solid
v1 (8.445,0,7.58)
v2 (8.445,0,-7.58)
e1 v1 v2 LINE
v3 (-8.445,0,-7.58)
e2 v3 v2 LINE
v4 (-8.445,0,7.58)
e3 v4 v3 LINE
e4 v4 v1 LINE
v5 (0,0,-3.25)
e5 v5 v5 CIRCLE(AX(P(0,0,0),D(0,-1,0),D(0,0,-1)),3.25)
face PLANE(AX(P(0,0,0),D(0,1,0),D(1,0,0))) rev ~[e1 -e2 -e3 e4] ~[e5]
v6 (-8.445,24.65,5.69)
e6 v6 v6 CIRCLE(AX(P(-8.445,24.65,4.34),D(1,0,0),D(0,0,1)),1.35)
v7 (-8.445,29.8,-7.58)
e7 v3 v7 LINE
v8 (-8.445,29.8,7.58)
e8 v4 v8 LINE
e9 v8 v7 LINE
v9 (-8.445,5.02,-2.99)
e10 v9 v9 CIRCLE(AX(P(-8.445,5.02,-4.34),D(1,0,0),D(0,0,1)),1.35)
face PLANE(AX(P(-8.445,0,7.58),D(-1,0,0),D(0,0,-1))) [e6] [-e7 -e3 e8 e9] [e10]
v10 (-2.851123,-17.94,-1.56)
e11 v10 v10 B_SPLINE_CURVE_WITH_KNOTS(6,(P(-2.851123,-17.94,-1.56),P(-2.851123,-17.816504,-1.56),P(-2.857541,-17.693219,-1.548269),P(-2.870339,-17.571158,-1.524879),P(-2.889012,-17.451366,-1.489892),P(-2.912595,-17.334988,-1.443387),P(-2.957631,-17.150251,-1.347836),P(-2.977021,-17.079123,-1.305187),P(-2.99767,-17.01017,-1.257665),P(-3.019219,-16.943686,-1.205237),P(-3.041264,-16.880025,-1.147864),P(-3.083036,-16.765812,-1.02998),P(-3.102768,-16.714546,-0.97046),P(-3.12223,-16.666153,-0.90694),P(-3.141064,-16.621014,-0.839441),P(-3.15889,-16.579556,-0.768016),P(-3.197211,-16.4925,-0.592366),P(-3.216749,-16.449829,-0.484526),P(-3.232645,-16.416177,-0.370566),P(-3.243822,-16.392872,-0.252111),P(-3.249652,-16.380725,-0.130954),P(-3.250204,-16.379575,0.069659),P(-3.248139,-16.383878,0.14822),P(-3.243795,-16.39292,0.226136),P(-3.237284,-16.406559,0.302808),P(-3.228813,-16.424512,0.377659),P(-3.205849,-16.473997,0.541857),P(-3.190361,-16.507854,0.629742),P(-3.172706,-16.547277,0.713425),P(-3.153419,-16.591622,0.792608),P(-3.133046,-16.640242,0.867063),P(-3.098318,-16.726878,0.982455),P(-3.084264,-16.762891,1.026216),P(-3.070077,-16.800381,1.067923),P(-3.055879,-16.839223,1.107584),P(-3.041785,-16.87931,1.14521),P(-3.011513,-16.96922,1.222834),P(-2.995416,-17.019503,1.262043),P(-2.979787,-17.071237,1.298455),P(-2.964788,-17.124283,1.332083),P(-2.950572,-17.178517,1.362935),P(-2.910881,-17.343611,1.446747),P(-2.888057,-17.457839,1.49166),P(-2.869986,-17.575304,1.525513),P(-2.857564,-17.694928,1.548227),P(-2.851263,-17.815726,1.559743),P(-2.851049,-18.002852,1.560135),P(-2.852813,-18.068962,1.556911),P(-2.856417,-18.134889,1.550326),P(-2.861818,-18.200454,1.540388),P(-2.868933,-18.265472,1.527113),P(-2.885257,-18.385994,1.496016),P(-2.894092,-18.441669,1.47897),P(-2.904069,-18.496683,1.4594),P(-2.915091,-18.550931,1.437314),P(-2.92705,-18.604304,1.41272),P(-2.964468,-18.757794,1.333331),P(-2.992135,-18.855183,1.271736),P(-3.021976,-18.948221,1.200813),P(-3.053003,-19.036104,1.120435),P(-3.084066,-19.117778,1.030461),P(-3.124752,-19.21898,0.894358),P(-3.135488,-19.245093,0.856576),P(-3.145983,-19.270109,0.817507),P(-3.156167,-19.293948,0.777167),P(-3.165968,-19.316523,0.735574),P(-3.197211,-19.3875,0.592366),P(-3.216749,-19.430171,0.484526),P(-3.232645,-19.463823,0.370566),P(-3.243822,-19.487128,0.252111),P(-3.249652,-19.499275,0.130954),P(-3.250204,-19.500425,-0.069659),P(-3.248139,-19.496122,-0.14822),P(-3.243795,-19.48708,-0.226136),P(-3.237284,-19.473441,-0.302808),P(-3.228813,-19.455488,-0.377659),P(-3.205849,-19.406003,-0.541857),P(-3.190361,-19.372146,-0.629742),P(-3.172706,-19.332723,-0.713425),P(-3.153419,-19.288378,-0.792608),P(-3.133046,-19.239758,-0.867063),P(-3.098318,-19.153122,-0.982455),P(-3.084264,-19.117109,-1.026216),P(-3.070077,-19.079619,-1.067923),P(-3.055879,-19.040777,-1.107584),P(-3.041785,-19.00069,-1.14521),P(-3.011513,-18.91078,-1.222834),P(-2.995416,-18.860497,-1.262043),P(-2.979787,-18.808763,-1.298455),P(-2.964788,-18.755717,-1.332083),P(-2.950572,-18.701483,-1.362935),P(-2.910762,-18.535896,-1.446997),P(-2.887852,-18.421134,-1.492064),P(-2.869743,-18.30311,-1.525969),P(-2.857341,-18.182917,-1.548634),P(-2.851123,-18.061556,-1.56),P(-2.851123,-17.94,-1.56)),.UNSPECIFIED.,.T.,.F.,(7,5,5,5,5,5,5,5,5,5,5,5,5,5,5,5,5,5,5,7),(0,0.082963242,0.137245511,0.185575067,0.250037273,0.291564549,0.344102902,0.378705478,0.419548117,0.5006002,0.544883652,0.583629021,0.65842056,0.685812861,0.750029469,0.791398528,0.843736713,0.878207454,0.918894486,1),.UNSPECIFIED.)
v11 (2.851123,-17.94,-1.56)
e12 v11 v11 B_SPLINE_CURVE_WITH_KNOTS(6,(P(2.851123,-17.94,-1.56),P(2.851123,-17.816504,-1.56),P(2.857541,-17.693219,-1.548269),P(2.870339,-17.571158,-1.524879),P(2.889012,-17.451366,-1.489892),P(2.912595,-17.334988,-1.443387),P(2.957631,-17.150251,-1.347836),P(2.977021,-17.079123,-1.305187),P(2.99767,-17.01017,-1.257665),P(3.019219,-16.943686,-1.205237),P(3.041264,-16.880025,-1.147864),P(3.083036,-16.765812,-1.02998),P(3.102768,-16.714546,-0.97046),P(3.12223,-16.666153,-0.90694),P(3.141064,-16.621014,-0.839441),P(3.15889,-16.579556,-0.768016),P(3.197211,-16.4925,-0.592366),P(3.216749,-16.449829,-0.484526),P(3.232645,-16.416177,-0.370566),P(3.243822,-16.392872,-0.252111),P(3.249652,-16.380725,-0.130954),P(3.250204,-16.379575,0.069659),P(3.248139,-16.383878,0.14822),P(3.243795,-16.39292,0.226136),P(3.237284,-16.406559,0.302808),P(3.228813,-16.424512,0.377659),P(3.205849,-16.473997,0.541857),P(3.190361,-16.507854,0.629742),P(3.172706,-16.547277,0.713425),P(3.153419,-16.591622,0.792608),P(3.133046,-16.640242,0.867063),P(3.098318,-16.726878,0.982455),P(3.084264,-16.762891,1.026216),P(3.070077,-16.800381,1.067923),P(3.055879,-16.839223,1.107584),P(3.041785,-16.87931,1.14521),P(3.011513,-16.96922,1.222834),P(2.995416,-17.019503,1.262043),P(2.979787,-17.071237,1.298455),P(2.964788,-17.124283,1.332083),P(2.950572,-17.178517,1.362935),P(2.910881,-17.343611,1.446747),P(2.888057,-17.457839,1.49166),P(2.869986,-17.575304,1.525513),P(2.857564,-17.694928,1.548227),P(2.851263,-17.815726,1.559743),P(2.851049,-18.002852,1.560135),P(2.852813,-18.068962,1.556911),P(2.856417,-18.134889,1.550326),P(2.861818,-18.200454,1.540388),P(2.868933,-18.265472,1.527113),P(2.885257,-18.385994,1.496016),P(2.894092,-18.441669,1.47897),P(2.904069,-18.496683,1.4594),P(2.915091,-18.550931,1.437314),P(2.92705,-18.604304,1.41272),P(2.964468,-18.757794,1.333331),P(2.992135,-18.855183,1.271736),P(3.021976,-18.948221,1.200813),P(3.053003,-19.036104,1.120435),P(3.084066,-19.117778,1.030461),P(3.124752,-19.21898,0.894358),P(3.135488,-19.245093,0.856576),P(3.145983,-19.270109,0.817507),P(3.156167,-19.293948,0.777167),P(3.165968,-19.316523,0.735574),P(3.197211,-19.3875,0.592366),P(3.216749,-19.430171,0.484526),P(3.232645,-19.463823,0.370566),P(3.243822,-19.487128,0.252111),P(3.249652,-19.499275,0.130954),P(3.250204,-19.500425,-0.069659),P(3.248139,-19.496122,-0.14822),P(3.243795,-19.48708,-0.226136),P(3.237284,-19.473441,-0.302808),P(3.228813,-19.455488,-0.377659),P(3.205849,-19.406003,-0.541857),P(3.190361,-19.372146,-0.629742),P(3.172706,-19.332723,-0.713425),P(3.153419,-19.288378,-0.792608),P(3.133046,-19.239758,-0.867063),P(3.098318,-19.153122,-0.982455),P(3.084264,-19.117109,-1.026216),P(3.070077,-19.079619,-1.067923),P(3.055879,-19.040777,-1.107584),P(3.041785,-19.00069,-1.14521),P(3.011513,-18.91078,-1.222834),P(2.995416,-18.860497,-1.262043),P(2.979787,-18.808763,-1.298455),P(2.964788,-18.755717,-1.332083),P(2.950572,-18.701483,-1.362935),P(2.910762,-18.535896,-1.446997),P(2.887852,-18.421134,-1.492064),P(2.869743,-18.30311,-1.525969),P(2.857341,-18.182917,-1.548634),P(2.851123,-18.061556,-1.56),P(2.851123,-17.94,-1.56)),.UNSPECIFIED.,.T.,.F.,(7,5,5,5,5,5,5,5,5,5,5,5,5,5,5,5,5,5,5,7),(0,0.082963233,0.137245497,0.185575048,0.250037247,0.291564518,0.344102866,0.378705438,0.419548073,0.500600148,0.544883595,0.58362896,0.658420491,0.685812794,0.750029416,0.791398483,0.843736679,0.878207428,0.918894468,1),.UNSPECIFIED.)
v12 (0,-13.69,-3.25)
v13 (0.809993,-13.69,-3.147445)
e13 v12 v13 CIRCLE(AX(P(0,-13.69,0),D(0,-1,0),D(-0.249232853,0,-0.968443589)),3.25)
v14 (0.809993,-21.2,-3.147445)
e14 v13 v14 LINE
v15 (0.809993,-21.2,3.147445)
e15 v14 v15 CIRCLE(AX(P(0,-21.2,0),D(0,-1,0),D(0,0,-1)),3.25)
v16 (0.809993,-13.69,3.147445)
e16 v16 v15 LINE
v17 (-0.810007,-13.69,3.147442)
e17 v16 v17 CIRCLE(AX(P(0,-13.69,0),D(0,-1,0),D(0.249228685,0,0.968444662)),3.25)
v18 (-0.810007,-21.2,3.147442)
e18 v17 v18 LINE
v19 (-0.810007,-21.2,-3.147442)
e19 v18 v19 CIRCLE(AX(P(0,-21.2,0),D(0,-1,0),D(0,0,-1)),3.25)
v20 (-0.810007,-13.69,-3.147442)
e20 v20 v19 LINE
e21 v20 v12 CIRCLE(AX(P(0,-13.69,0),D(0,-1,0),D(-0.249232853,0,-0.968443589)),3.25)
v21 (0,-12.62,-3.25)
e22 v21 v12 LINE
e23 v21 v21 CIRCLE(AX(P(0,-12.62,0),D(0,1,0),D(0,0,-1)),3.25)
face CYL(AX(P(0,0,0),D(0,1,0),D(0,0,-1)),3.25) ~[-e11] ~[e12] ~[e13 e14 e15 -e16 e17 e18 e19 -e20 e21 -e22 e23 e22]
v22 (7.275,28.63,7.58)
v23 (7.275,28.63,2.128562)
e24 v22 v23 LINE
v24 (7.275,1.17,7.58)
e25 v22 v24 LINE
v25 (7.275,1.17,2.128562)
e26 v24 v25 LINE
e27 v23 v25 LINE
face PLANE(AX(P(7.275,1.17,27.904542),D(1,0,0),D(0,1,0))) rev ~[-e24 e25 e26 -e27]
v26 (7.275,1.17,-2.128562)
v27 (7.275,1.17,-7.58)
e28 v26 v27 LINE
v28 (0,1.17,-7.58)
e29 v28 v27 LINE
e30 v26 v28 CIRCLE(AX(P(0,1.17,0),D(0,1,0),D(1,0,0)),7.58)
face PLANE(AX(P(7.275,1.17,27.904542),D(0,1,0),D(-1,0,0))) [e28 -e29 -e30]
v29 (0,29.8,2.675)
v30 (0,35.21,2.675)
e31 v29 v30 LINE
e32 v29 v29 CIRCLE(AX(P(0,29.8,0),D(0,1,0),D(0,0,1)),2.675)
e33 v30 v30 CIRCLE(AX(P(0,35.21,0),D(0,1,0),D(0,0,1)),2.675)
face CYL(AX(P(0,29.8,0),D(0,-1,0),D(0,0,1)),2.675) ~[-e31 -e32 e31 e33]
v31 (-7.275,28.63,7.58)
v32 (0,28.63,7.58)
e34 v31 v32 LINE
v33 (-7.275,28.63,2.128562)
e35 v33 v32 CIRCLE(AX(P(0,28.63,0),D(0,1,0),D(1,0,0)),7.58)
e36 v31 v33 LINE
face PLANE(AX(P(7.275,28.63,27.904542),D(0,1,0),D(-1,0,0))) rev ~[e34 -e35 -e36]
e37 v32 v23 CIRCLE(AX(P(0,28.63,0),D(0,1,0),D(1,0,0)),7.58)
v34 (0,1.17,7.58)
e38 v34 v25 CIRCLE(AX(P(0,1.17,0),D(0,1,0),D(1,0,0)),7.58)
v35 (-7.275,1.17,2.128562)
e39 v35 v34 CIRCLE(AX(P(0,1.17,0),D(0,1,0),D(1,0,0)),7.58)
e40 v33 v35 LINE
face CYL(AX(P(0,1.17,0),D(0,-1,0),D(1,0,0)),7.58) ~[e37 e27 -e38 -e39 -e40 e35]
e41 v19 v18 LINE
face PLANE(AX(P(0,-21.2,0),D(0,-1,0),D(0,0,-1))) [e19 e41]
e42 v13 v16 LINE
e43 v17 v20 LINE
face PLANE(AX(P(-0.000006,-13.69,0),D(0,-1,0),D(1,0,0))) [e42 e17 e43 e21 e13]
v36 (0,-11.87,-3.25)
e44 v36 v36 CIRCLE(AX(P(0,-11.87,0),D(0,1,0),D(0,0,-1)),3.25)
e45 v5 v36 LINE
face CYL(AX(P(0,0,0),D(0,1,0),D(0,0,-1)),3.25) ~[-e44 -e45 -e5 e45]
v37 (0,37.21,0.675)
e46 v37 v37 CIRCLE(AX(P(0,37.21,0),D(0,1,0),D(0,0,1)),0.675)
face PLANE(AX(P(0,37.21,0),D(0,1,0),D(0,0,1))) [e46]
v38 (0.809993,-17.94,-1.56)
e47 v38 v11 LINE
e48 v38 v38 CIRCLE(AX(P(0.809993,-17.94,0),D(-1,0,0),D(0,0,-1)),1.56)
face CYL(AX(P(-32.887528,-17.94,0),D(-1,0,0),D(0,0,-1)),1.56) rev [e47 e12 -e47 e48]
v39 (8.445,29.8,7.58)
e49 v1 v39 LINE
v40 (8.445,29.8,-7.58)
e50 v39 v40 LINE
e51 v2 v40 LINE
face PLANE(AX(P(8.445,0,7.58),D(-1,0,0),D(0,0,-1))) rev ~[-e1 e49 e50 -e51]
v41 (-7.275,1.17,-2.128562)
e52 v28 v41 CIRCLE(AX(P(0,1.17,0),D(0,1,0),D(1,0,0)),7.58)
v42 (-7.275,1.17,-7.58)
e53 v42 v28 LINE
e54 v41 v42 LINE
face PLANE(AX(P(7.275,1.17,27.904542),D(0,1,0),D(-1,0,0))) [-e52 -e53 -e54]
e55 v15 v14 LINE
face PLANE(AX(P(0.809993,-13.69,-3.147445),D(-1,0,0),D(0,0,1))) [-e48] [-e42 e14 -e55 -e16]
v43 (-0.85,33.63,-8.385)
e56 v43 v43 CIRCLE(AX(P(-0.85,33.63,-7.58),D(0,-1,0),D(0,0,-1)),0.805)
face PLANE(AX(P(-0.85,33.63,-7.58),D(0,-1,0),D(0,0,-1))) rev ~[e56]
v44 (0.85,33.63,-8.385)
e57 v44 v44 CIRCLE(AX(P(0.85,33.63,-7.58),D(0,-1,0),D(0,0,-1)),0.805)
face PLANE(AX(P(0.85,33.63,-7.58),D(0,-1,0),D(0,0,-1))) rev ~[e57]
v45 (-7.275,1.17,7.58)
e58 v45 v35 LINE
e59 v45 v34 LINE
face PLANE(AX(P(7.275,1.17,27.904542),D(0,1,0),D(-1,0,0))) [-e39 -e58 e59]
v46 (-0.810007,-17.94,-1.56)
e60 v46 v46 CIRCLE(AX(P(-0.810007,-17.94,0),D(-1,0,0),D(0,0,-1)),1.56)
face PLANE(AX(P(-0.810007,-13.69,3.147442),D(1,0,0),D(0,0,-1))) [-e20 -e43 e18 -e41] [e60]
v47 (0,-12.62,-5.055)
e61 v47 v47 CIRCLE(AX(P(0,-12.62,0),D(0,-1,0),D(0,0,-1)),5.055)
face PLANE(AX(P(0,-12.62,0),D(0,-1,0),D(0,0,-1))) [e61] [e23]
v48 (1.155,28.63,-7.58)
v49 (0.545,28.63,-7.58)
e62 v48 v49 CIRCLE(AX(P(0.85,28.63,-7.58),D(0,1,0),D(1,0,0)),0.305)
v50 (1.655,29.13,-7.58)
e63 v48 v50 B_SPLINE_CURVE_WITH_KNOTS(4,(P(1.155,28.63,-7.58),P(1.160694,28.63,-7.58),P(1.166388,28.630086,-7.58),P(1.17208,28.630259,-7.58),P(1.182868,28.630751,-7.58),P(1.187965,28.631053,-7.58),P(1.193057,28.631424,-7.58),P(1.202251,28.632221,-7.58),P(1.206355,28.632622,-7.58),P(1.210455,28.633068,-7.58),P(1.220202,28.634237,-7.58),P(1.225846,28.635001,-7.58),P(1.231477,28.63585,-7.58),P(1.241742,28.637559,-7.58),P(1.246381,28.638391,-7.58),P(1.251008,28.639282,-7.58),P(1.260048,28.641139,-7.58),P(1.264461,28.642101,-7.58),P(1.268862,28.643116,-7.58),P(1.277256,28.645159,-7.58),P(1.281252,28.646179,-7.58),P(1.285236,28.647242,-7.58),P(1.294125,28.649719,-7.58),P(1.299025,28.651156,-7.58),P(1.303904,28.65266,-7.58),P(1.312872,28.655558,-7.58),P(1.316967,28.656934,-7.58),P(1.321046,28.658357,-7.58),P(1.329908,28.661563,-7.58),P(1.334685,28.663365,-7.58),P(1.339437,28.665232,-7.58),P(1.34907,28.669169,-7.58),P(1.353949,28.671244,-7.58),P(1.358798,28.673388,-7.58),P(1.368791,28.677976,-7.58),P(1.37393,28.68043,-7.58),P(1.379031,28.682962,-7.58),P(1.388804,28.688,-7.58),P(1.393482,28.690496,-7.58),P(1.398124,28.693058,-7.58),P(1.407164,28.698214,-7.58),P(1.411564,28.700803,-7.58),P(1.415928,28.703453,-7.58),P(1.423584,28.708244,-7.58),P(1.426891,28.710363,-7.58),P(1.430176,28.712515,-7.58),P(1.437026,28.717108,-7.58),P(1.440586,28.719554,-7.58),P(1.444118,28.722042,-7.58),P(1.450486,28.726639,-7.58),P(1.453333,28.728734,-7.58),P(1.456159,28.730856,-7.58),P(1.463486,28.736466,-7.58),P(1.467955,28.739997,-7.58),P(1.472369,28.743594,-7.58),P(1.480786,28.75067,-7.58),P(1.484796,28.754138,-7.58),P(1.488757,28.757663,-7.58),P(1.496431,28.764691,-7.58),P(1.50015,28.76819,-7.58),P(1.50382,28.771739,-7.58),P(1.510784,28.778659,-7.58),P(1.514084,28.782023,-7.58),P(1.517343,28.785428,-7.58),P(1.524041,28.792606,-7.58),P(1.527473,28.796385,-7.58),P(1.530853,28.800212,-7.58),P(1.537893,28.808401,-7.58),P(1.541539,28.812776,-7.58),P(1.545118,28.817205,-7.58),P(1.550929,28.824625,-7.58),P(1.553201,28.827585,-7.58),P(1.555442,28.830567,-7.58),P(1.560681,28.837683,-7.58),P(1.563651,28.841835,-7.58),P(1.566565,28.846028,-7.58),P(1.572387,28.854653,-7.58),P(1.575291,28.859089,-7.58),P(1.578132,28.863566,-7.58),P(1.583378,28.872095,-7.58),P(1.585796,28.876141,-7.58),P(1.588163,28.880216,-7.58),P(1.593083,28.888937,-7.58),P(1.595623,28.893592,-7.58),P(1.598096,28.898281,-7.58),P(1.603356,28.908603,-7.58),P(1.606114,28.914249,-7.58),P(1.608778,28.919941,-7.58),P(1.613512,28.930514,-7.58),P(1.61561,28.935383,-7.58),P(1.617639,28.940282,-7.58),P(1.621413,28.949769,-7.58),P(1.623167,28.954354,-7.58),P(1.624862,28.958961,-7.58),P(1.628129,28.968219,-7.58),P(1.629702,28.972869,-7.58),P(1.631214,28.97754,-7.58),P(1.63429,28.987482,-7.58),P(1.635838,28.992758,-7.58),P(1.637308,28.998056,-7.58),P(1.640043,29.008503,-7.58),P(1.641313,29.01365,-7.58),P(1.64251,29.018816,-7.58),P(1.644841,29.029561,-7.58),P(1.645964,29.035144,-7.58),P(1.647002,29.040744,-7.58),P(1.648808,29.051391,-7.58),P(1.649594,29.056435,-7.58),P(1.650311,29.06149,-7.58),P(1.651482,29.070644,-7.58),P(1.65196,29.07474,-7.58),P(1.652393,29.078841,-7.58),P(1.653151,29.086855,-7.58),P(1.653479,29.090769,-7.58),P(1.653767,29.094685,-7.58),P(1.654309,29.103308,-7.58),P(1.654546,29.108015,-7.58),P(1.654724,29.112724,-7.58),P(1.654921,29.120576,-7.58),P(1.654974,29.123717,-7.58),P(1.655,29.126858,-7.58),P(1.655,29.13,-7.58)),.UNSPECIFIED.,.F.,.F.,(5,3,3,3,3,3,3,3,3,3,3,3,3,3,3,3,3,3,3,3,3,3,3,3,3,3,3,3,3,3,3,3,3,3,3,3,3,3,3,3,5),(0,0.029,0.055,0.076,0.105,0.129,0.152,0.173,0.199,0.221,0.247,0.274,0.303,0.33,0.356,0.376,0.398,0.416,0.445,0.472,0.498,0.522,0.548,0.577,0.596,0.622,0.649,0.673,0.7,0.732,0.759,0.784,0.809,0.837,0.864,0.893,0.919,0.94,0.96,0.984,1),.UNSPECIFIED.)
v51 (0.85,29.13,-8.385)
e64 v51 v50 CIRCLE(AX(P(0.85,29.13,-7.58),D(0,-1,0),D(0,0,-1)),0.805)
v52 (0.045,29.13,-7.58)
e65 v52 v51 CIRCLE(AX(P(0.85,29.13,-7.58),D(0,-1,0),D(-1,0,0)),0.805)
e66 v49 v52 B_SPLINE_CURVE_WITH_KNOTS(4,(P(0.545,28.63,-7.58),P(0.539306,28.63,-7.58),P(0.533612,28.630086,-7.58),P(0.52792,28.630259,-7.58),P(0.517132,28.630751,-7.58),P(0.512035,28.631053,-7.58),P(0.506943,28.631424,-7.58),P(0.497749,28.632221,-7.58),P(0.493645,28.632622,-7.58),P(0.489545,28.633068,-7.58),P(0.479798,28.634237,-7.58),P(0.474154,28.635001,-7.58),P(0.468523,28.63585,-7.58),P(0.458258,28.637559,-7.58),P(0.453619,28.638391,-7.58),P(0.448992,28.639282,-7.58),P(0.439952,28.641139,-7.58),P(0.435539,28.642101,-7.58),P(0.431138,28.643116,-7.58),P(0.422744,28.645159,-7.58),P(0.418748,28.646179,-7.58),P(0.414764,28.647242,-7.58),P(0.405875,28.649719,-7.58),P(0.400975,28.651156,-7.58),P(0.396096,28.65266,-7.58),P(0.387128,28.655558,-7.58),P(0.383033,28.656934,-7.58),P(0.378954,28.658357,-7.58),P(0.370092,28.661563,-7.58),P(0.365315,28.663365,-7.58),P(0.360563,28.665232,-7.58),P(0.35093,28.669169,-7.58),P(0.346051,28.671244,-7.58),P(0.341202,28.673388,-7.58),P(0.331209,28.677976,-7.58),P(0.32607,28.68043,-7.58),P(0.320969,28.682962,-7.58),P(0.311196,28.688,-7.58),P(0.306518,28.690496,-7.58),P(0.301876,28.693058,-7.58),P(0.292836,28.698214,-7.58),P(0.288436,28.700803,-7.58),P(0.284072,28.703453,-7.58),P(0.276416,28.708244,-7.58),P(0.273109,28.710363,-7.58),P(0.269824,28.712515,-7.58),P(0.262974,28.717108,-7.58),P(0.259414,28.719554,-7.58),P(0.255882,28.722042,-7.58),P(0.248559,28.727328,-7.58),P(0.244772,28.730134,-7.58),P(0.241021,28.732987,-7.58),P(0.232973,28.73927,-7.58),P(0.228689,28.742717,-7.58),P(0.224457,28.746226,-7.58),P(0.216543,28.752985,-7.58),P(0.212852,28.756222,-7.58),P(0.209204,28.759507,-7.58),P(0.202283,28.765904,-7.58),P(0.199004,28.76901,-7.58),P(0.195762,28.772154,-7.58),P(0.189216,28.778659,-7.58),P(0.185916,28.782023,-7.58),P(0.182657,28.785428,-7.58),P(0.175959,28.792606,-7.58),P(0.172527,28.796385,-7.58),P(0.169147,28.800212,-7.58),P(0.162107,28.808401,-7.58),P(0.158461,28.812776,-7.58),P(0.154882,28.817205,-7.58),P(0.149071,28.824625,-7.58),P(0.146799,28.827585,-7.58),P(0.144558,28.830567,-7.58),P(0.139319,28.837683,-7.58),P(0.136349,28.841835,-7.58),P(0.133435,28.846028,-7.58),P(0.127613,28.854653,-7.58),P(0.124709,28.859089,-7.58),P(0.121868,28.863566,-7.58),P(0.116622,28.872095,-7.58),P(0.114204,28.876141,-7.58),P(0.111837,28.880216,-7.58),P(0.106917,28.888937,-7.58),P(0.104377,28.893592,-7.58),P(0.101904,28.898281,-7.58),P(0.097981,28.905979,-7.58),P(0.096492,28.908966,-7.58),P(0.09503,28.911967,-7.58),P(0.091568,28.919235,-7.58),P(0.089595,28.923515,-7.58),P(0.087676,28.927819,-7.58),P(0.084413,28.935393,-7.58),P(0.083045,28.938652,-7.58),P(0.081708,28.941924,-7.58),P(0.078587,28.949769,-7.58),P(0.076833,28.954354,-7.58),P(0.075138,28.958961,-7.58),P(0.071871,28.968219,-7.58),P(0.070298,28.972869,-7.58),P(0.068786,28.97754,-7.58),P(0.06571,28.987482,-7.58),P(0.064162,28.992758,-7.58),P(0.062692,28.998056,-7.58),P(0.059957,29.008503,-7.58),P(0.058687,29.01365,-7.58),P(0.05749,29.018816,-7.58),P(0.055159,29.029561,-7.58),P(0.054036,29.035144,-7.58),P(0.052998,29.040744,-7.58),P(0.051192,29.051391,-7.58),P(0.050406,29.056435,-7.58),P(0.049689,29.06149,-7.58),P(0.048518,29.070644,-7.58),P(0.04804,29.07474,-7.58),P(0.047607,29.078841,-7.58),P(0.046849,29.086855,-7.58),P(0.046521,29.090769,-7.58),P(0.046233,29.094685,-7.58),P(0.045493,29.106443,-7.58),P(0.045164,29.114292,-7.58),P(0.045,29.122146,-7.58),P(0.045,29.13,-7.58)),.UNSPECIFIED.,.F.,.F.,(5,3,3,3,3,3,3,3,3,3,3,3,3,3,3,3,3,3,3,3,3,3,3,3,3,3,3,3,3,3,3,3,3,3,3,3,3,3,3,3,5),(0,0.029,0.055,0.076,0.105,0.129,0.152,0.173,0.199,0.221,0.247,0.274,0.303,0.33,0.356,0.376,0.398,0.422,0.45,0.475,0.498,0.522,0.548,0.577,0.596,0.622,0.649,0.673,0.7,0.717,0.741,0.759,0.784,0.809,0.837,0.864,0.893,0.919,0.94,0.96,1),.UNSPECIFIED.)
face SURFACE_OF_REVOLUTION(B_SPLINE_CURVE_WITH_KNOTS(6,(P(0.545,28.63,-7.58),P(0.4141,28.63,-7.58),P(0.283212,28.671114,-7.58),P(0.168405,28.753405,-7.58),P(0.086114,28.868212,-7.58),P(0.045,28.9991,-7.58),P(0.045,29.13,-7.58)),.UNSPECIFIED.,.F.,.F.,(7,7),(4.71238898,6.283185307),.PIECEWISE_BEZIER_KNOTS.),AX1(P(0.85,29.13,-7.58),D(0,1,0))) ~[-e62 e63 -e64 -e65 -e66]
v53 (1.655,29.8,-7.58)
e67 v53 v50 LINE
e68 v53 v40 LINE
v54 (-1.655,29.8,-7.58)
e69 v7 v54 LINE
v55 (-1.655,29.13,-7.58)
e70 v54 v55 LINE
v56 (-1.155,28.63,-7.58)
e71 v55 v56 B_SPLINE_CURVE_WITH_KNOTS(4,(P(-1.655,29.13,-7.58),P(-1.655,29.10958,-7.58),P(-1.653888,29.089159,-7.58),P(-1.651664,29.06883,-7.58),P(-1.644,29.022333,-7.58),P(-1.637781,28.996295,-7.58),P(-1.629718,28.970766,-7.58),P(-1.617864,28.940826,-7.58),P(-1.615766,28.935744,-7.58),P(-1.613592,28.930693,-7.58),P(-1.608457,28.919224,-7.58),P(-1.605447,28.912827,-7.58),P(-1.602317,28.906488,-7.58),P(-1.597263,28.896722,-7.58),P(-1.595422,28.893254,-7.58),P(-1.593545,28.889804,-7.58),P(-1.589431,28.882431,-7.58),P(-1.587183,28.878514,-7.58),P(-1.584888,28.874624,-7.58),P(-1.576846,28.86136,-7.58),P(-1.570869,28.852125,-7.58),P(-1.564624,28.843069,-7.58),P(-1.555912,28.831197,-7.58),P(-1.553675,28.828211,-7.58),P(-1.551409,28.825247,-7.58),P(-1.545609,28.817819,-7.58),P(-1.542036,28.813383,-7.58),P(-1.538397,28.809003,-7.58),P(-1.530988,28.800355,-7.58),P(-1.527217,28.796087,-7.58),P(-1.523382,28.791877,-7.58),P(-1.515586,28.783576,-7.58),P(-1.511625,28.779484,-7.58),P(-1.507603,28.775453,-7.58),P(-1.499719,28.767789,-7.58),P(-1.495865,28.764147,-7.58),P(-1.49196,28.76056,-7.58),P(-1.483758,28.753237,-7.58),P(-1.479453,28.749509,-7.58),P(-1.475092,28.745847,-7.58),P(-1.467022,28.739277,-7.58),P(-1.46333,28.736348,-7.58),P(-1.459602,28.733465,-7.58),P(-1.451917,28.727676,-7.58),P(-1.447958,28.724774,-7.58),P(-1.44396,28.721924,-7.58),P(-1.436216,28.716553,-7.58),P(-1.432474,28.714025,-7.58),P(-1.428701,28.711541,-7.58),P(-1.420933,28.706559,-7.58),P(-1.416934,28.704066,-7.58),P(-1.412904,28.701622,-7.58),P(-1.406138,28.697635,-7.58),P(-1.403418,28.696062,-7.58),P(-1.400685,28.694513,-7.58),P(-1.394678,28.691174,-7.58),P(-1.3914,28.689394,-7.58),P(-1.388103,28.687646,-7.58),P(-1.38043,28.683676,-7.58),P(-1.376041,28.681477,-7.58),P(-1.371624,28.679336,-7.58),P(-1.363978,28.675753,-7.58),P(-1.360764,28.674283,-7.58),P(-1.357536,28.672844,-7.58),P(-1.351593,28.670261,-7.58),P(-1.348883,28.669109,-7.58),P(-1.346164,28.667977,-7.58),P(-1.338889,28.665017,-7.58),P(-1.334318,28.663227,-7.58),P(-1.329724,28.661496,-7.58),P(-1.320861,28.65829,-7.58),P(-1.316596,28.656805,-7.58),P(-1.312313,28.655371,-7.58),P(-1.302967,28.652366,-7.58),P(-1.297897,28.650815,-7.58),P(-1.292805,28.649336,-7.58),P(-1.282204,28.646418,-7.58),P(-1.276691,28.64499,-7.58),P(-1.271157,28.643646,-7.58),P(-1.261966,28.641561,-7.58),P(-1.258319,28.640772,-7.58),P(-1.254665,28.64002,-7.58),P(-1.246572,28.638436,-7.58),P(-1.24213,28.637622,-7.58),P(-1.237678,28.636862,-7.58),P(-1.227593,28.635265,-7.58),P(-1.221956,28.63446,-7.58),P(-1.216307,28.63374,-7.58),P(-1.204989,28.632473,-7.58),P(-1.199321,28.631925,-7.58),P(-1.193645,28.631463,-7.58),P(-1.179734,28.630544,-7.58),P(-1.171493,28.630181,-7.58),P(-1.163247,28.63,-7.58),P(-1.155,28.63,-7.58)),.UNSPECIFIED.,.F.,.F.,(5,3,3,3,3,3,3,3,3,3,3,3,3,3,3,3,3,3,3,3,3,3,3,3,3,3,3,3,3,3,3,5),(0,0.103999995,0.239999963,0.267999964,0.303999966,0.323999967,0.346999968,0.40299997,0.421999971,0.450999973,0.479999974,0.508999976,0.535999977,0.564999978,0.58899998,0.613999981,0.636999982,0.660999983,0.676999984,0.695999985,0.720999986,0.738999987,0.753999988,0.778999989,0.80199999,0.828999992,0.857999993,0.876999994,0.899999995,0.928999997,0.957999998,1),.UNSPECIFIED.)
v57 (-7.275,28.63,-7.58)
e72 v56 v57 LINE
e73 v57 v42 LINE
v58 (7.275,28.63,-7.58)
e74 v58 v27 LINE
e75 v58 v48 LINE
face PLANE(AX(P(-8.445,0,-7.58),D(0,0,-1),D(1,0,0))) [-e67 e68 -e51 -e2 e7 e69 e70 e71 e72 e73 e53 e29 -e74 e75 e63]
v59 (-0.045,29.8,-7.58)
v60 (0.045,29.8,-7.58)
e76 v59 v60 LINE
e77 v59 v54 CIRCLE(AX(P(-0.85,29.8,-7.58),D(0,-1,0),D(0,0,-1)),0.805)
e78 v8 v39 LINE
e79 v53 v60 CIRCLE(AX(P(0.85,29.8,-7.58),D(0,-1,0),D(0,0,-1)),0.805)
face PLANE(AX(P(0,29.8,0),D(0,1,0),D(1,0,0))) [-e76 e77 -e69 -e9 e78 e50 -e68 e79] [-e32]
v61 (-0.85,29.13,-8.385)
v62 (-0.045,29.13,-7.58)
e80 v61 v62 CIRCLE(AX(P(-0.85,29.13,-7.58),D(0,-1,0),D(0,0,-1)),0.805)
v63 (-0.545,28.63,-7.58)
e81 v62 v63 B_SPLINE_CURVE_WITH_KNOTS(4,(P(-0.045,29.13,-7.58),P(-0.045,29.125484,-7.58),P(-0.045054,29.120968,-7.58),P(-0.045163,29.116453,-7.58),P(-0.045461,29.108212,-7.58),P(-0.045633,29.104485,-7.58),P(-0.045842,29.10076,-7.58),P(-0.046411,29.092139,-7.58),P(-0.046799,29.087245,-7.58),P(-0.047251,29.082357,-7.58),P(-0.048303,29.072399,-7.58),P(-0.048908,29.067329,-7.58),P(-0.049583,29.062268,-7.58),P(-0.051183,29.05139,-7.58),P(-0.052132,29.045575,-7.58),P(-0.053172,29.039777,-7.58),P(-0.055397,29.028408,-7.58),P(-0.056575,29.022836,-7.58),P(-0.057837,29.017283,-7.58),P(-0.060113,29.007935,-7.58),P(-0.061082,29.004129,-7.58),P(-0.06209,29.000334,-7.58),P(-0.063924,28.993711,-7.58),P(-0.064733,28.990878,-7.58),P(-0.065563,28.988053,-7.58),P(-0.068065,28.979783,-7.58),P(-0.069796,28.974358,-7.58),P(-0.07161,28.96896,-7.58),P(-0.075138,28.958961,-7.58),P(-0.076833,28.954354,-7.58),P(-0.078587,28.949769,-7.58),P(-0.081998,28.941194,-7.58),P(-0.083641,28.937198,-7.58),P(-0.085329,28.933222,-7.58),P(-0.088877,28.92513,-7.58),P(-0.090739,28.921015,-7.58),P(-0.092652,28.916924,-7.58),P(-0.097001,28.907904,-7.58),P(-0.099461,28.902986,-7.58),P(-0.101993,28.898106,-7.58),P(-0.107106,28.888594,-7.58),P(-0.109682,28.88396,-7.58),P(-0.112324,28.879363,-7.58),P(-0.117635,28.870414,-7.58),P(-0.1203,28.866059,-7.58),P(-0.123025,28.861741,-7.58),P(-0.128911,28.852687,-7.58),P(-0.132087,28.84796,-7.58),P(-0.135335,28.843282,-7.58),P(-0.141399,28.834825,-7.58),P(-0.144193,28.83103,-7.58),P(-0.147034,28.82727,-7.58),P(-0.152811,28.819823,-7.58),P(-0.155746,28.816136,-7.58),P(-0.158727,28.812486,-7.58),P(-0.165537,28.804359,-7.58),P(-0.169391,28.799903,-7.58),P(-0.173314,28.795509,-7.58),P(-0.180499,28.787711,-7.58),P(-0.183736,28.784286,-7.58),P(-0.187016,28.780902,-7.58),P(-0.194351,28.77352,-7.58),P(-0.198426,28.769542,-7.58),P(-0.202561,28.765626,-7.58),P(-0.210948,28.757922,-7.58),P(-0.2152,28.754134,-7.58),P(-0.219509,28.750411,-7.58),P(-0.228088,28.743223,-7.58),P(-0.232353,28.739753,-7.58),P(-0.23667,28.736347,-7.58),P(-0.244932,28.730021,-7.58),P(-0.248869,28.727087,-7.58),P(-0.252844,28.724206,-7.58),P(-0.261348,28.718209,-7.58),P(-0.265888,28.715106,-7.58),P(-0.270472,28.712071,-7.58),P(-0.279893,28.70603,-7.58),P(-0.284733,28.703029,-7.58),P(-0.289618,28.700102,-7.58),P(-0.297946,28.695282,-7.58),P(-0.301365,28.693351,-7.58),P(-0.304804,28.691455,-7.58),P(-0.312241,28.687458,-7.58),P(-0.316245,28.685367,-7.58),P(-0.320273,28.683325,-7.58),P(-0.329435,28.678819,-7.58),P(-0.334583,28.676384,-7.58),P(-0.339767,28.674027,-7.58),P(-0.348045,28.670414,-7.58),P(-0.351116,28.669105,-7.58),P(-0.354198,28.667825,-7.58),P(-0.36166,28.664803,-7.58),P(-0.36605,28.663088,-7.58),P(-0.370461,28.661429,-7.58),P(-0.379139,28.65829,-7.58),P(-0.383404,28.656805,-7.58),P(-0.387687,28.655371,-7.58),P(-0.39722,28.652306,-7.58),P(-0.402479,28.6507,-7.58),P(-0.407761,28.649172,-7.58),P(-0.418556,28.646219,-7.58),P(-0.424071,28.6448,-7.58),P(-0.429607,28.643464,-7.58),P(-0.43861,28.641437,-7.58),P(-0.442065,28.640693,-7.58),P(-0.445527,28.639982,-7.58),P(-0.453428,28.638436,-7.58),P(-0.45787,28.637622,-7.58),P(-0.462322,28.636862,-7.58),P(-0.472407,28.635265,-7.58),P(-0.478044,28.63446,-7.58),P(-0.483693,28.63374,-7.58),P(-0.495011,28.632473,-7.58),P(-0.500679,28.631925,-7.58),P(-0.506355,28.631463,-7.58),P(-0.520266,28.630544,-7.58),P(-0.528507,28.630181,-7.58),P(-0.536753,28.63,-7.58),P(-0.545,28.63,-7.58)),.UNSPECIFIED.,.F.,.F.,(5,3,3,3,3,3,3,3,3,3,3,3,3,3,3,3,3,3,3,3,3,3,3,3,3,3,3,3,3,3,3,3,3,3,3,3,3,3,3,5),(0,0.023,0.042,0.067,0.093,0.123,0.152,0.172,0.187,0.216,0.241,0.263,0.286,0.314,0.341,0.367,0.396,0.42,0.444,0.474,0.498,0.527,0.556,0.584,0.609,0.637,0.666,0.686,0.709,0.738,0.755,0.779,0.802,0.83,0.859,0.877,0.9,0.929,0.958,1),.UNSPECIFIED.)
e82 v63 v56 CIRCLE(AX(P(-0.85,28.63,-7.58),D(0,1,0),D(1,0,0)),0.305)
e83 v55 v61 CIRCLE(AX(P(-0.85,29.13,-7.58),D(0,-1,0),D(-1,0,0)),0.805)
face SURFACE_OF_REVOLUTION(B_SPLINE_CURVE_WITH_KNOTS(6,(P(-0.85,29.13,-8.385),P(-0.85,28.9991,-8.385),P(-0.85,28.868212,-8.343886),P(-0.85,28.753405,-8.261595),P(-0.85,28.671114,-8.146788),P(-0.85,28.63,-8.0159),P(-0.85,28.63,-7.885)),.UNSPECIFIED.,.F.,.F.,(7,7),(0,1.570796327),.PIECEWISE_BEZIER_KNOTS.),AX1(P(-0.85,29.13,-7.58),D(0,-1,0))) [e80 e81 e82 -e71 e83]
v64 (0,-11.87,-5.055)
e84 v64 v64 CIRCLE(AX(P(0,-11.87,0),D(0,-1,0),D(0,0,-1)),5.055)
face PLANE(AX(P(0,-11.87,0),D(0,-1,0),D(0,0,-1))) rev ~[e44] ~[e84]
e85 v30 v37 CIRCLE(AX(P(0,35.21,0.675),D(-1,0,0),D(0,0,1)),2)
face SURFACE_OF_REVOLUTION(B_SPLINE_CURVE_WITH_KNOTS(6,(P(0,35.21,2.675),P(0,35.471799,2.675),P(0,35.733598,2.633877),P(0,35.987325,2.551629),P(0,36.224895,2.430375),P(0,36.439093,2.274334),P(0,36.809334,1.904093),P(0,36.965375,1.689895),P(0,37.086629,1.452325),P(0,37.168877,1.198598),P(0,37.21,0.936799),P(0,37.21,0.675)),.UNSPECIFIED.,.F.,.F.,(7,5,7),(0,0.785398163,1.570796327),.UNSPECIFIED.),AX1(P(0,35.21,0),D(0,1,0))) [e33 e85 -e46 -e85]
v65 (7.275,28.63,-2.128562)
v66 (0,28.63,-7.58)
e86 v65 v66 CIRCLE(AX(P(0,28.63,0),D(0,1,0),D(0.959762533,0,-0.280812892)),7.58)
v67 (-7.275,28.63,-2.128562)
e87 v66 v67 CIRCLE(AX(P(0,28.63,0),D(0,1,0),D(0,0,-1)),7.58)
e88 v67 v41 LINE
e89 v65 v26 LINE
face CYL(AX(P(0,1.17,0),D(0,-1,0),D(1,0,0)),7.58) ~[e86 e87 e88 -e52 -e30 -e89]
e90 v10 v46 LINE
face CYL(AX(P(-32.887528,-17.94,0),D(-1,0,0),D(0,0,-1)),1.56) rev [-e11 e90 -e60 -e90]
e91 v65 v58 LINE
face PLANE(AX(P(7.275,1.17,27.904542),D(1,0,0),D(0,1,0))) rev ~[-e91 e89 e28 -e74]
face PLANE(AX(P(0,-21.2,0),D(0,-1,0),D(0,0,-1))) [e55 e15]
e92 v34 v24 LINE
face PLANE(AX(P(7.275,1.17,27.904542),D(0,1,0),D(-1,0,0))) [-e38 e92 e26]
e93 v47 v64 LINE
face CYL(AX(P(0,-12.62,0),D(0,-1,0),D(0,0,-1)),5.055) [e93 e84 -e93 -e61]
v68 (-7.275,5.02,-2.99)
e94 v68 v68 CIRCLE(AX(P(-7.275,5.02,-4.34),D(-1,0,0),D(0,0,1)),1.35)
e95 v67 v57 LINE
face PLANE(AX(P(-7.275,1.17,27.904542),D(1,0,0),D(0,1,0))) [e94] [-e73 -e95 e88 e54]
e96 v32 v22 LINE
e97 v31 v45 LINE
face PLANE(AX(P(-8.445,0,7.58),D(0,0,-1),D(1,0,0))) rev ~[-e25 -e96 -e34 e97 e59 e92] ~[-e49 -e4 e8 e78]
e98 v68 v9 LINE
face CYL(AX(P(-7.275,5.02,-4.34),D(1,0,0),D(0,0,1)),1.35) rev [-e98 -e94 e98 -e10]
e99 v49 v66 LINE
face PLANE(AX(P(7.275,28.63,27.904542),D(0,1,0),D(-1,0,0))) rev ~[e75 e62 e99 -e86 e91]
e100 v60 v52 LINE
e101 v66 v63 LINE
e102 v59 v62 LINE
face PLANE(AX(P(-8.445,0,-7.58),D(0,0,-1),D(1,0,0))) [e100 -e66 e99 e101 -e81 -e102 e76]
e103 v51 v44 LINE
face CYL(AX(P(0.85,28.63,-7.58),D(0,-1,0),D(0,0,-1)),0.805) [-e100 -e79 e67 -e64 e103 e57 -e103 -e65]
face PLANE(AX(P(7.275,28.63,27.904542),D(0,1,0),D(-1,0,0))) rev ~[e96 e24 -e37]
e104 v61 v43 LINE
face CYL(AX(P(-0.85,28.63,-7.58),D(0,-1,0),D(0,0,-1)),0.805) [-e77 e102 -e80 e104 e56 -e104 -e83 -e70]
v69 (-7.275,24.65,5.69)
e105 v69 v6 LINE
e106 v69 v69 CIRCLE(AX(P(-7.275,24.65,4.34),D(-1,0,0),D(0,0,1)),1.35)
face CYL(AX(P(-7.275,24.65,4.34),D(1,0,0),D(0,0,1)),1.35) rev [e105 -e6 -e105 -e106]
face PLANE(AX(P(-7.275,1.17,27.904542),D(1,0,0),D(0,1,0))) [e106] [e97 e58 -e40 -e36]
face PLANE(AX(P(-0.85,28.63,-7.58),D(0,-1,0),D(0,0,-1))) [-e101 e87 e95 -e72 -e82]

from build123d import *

# Parameters (mm, degrees)
SKETCH1_W               = 16.89
SKETCH1_H               = 15.16
BOSS_EXTRUDE1_DEPTH     = 29.8
CUT_EXTRUDE1_DEPTH      = 35.484541827
CUT_EXTRUDE1_DEPTH_BACK = 35.484541827
SKETCH2_W               = 14.55
SKETCH2_H               = 27.46
SKETCH3_R               = 3.25
BOSS_EXTRUDE2_DEPTH     = 21.2
CUT_EXTRUDE2_DEPTH      = 53.247243229
CUT_EXTRUDE2_DEPTH_BACK = 7.51
CUT_EXTRUDE3_DEPTH      = 32.887527734
CUT_EXTRUDE3_DEPTH_BACK = 32.887527734
SKETCH5_R               = 1.56
SKETCH6_R               = 2.675
BOSS_EXTRUDE3_DEPTH     = 7.41
FILLET1_R               = 2
SKETCH7_R               = 7.58
BOSS_EXTRUDE4_DEPTH     = 27.46
SKETCH8_R               = 0.805
BOSS_EXTRUDE7_DEPTH     = 5
FILLET2_R               = 0.5
CUT_EXTRUDE4_DEPTH      = 42.715278137
CUT_EXTRUDE4_DEPTH_BACK = 1.17
SKETCH9_R               = 1.35
BOSS_EXTRUDE8_START     = -8.58
SKETCH10_R              = 5.055
BOSS_EXTRUDE8_DEPTH     = 0.75


with BuildPart() as part:
    # Sketch1 → Boss-Extrude1 (new body)
    with BuildSketch(Plane(origin=(0, 0, 0), x_dir=(1, 0, 0), z_dir=(0, 1, 0))):
        Rectangle(SKETCH1_W, SKETCH1_H)
    extrude(amount=BOSS_EXTRUDE1_DEPTH)

    # Sketch2 → Cut-Extrude1 (cut, two sides: drawn at the far end of the back side and taken through both)
    with BuildSketch(Plane(origin=(0, 0, -7.58), x_dir=(-1, 0, 0), z_dir=(0, 0, -1)).offset(-CUT_EXTRUDE1_DEPTH_BACK)):
        with Locations((0, 14.9)):
            Rectangle(SKETCH2_W, SKETCH2_H)
    extrude(amount=CUT_EXTRUDE1_DEPTH + CUT_EXTRUDE1_DEPTH_BACK, mode=Mode.SUBTRACT)

    # Sketch3 → Boss-Extrude2 (add)
    with BuildSketch(Plane.XZ):
        with Locations(Location((0, 0, 0), (0, 0, 270))):
            Circle(SKETCH3_R)
    extrude(amount=BOSS_EXTRUDE2_DEPTH)

    # Sketch4 → Cut-Extrude2 (cut, two sides: drawn at the far end of the back side and taken through both)
    with BuildSketch(Plane.XZ.offset(21.2).offset(-CUT_EXTRUDE2_DEPTH_BACK)):
        with BuildLine():
            Line((-0.810006774, 3.147441664), (-0.810006774, -3.147441664))
            ThreePointArc((-0.810006774, -3.147441664), (-6.995e-06, -3.25), (0.809993226, -3.14744515))
            Line((0.809993226, -3.14744515), (0.809993226, 3.14744515))
            ThreePointArc((0.809993226, 3.14744515), (-6.995e-06, 3.25), (-0.810006774, 3.147441664))
        make_face()
    extrude(amount=CUT_EXTRUDE2_DEPTH + CUT_EXTRUDE2_DEPTH_BACK, mode=Mode.SUBTRACT)

    # Sketch5 → Cut-Extrude3 (cut, two sides: drawn at the far end of the back side and taken through both)
    with BuildSketch(Plane(origin=(0, 0, 0), x_dir=(0, 0, -1), z_dir=(1, 0, 0)).offset(-CUT_EXTRUDE3_DEPTH_BACK)):
        with Locations((0, -17.94)):
            Circle(SKETCH5_R)
    extrude(amount=CUT_EXTRUDE3_DEPTH + CUT_EXTRUDE3_DEPTH_BACK, mode=Mode.SUBTRACT)

    # Sketch6 → Boss-Extrude3 (add)
    with BuildSketch(Plane(origin=(0, 29.8, 0), x_dir=(1, 0, 0), z_dir=(0, 1, 0))):
        with Locations(Location((0, 0, 0), (0, 0, 270))):
            Circle(SKETCH6_R)
    extrude(amount=BOSS_EXTRUDE3_DEPTH)

    # Fillet1
    fillet1_edges = [part.edges().sort_by_distance(p)[0] for p in [
        (0, 37.21, -2.675),
    ]]
    fillet(fillet1_edges, radius=FILLET1_R)

    # Sketch7 → Boss-Extrude4 (add)
    with BuildSketch(Plane(origin=(0, 1.17, 0), x_dir=(1, 0, 0), z_dir=(0, 1, 0))):
        Circle(SKETCH7_R)
    extrude(amount=BOSS_EXTRUDE4_DEPTH)

    # Sketch8 → Boss-Extrude7 (add)
    with BuildSketch(Plane.XZ.offset(-28.63)):
        with Locations(Location((-0.85, -7.58, 0), (0, 0, 270))):
            Circle(SKETCH8_R)
        with Locations(Location((0.85, -7.58, 0), (0, 0, 270))):
            Circle(SKETCH8_R)
    extrude(amount=-BOSS_EXTRUDE7_DEPTH)

    # Fillet2
    fillet2_edges = [part.edges().sort_by_distance(p)[0] for p in [
        (-0.280779041, 28.63, -8.149220959),
        (-1.419220959, 28.63, -8.149220959),
        (0.280779041, 28.63, -8.149220959),
        (1.419220959, 28.63, -8.149220959),
    ]]
    fillet(fillet2_edges, radius=FILLET2_R)

    # Sketch9 → Cut-Extrude4 (cut, two sides: drawn at the far end of the back side and taken through both)
    with BuildSketch(Plane.ZY.offset(8.445).offset(-CUT_EXTRUDE4_DEPTH_BACK)):
        with Locations((4.34, 24.65)):
            Circle(SKETCH9_R)
        with Locations((-4.34, 5.02)):
            Circle(SKETCH9_R)
    extrude(amount=CUT_EXTRUDE4_DEPTH + CUT_EXTRUDE4_DEPTH_BACK, mode=Mode.SUBTRACT)

    # Sketch10 → Boss-Extrude8 (add)
    with BuildSketch(Plane.XZ.offset(21.2).offset(BOSS_EXTRUDE8_START)):
        with Locations(Location((0, 0, 0), (0, 0, 270))):
            Circle(SKETCH10_R)
    extrude(amount=-BOSS_EXTRUDE8_DEPTH)


solid = part.part
